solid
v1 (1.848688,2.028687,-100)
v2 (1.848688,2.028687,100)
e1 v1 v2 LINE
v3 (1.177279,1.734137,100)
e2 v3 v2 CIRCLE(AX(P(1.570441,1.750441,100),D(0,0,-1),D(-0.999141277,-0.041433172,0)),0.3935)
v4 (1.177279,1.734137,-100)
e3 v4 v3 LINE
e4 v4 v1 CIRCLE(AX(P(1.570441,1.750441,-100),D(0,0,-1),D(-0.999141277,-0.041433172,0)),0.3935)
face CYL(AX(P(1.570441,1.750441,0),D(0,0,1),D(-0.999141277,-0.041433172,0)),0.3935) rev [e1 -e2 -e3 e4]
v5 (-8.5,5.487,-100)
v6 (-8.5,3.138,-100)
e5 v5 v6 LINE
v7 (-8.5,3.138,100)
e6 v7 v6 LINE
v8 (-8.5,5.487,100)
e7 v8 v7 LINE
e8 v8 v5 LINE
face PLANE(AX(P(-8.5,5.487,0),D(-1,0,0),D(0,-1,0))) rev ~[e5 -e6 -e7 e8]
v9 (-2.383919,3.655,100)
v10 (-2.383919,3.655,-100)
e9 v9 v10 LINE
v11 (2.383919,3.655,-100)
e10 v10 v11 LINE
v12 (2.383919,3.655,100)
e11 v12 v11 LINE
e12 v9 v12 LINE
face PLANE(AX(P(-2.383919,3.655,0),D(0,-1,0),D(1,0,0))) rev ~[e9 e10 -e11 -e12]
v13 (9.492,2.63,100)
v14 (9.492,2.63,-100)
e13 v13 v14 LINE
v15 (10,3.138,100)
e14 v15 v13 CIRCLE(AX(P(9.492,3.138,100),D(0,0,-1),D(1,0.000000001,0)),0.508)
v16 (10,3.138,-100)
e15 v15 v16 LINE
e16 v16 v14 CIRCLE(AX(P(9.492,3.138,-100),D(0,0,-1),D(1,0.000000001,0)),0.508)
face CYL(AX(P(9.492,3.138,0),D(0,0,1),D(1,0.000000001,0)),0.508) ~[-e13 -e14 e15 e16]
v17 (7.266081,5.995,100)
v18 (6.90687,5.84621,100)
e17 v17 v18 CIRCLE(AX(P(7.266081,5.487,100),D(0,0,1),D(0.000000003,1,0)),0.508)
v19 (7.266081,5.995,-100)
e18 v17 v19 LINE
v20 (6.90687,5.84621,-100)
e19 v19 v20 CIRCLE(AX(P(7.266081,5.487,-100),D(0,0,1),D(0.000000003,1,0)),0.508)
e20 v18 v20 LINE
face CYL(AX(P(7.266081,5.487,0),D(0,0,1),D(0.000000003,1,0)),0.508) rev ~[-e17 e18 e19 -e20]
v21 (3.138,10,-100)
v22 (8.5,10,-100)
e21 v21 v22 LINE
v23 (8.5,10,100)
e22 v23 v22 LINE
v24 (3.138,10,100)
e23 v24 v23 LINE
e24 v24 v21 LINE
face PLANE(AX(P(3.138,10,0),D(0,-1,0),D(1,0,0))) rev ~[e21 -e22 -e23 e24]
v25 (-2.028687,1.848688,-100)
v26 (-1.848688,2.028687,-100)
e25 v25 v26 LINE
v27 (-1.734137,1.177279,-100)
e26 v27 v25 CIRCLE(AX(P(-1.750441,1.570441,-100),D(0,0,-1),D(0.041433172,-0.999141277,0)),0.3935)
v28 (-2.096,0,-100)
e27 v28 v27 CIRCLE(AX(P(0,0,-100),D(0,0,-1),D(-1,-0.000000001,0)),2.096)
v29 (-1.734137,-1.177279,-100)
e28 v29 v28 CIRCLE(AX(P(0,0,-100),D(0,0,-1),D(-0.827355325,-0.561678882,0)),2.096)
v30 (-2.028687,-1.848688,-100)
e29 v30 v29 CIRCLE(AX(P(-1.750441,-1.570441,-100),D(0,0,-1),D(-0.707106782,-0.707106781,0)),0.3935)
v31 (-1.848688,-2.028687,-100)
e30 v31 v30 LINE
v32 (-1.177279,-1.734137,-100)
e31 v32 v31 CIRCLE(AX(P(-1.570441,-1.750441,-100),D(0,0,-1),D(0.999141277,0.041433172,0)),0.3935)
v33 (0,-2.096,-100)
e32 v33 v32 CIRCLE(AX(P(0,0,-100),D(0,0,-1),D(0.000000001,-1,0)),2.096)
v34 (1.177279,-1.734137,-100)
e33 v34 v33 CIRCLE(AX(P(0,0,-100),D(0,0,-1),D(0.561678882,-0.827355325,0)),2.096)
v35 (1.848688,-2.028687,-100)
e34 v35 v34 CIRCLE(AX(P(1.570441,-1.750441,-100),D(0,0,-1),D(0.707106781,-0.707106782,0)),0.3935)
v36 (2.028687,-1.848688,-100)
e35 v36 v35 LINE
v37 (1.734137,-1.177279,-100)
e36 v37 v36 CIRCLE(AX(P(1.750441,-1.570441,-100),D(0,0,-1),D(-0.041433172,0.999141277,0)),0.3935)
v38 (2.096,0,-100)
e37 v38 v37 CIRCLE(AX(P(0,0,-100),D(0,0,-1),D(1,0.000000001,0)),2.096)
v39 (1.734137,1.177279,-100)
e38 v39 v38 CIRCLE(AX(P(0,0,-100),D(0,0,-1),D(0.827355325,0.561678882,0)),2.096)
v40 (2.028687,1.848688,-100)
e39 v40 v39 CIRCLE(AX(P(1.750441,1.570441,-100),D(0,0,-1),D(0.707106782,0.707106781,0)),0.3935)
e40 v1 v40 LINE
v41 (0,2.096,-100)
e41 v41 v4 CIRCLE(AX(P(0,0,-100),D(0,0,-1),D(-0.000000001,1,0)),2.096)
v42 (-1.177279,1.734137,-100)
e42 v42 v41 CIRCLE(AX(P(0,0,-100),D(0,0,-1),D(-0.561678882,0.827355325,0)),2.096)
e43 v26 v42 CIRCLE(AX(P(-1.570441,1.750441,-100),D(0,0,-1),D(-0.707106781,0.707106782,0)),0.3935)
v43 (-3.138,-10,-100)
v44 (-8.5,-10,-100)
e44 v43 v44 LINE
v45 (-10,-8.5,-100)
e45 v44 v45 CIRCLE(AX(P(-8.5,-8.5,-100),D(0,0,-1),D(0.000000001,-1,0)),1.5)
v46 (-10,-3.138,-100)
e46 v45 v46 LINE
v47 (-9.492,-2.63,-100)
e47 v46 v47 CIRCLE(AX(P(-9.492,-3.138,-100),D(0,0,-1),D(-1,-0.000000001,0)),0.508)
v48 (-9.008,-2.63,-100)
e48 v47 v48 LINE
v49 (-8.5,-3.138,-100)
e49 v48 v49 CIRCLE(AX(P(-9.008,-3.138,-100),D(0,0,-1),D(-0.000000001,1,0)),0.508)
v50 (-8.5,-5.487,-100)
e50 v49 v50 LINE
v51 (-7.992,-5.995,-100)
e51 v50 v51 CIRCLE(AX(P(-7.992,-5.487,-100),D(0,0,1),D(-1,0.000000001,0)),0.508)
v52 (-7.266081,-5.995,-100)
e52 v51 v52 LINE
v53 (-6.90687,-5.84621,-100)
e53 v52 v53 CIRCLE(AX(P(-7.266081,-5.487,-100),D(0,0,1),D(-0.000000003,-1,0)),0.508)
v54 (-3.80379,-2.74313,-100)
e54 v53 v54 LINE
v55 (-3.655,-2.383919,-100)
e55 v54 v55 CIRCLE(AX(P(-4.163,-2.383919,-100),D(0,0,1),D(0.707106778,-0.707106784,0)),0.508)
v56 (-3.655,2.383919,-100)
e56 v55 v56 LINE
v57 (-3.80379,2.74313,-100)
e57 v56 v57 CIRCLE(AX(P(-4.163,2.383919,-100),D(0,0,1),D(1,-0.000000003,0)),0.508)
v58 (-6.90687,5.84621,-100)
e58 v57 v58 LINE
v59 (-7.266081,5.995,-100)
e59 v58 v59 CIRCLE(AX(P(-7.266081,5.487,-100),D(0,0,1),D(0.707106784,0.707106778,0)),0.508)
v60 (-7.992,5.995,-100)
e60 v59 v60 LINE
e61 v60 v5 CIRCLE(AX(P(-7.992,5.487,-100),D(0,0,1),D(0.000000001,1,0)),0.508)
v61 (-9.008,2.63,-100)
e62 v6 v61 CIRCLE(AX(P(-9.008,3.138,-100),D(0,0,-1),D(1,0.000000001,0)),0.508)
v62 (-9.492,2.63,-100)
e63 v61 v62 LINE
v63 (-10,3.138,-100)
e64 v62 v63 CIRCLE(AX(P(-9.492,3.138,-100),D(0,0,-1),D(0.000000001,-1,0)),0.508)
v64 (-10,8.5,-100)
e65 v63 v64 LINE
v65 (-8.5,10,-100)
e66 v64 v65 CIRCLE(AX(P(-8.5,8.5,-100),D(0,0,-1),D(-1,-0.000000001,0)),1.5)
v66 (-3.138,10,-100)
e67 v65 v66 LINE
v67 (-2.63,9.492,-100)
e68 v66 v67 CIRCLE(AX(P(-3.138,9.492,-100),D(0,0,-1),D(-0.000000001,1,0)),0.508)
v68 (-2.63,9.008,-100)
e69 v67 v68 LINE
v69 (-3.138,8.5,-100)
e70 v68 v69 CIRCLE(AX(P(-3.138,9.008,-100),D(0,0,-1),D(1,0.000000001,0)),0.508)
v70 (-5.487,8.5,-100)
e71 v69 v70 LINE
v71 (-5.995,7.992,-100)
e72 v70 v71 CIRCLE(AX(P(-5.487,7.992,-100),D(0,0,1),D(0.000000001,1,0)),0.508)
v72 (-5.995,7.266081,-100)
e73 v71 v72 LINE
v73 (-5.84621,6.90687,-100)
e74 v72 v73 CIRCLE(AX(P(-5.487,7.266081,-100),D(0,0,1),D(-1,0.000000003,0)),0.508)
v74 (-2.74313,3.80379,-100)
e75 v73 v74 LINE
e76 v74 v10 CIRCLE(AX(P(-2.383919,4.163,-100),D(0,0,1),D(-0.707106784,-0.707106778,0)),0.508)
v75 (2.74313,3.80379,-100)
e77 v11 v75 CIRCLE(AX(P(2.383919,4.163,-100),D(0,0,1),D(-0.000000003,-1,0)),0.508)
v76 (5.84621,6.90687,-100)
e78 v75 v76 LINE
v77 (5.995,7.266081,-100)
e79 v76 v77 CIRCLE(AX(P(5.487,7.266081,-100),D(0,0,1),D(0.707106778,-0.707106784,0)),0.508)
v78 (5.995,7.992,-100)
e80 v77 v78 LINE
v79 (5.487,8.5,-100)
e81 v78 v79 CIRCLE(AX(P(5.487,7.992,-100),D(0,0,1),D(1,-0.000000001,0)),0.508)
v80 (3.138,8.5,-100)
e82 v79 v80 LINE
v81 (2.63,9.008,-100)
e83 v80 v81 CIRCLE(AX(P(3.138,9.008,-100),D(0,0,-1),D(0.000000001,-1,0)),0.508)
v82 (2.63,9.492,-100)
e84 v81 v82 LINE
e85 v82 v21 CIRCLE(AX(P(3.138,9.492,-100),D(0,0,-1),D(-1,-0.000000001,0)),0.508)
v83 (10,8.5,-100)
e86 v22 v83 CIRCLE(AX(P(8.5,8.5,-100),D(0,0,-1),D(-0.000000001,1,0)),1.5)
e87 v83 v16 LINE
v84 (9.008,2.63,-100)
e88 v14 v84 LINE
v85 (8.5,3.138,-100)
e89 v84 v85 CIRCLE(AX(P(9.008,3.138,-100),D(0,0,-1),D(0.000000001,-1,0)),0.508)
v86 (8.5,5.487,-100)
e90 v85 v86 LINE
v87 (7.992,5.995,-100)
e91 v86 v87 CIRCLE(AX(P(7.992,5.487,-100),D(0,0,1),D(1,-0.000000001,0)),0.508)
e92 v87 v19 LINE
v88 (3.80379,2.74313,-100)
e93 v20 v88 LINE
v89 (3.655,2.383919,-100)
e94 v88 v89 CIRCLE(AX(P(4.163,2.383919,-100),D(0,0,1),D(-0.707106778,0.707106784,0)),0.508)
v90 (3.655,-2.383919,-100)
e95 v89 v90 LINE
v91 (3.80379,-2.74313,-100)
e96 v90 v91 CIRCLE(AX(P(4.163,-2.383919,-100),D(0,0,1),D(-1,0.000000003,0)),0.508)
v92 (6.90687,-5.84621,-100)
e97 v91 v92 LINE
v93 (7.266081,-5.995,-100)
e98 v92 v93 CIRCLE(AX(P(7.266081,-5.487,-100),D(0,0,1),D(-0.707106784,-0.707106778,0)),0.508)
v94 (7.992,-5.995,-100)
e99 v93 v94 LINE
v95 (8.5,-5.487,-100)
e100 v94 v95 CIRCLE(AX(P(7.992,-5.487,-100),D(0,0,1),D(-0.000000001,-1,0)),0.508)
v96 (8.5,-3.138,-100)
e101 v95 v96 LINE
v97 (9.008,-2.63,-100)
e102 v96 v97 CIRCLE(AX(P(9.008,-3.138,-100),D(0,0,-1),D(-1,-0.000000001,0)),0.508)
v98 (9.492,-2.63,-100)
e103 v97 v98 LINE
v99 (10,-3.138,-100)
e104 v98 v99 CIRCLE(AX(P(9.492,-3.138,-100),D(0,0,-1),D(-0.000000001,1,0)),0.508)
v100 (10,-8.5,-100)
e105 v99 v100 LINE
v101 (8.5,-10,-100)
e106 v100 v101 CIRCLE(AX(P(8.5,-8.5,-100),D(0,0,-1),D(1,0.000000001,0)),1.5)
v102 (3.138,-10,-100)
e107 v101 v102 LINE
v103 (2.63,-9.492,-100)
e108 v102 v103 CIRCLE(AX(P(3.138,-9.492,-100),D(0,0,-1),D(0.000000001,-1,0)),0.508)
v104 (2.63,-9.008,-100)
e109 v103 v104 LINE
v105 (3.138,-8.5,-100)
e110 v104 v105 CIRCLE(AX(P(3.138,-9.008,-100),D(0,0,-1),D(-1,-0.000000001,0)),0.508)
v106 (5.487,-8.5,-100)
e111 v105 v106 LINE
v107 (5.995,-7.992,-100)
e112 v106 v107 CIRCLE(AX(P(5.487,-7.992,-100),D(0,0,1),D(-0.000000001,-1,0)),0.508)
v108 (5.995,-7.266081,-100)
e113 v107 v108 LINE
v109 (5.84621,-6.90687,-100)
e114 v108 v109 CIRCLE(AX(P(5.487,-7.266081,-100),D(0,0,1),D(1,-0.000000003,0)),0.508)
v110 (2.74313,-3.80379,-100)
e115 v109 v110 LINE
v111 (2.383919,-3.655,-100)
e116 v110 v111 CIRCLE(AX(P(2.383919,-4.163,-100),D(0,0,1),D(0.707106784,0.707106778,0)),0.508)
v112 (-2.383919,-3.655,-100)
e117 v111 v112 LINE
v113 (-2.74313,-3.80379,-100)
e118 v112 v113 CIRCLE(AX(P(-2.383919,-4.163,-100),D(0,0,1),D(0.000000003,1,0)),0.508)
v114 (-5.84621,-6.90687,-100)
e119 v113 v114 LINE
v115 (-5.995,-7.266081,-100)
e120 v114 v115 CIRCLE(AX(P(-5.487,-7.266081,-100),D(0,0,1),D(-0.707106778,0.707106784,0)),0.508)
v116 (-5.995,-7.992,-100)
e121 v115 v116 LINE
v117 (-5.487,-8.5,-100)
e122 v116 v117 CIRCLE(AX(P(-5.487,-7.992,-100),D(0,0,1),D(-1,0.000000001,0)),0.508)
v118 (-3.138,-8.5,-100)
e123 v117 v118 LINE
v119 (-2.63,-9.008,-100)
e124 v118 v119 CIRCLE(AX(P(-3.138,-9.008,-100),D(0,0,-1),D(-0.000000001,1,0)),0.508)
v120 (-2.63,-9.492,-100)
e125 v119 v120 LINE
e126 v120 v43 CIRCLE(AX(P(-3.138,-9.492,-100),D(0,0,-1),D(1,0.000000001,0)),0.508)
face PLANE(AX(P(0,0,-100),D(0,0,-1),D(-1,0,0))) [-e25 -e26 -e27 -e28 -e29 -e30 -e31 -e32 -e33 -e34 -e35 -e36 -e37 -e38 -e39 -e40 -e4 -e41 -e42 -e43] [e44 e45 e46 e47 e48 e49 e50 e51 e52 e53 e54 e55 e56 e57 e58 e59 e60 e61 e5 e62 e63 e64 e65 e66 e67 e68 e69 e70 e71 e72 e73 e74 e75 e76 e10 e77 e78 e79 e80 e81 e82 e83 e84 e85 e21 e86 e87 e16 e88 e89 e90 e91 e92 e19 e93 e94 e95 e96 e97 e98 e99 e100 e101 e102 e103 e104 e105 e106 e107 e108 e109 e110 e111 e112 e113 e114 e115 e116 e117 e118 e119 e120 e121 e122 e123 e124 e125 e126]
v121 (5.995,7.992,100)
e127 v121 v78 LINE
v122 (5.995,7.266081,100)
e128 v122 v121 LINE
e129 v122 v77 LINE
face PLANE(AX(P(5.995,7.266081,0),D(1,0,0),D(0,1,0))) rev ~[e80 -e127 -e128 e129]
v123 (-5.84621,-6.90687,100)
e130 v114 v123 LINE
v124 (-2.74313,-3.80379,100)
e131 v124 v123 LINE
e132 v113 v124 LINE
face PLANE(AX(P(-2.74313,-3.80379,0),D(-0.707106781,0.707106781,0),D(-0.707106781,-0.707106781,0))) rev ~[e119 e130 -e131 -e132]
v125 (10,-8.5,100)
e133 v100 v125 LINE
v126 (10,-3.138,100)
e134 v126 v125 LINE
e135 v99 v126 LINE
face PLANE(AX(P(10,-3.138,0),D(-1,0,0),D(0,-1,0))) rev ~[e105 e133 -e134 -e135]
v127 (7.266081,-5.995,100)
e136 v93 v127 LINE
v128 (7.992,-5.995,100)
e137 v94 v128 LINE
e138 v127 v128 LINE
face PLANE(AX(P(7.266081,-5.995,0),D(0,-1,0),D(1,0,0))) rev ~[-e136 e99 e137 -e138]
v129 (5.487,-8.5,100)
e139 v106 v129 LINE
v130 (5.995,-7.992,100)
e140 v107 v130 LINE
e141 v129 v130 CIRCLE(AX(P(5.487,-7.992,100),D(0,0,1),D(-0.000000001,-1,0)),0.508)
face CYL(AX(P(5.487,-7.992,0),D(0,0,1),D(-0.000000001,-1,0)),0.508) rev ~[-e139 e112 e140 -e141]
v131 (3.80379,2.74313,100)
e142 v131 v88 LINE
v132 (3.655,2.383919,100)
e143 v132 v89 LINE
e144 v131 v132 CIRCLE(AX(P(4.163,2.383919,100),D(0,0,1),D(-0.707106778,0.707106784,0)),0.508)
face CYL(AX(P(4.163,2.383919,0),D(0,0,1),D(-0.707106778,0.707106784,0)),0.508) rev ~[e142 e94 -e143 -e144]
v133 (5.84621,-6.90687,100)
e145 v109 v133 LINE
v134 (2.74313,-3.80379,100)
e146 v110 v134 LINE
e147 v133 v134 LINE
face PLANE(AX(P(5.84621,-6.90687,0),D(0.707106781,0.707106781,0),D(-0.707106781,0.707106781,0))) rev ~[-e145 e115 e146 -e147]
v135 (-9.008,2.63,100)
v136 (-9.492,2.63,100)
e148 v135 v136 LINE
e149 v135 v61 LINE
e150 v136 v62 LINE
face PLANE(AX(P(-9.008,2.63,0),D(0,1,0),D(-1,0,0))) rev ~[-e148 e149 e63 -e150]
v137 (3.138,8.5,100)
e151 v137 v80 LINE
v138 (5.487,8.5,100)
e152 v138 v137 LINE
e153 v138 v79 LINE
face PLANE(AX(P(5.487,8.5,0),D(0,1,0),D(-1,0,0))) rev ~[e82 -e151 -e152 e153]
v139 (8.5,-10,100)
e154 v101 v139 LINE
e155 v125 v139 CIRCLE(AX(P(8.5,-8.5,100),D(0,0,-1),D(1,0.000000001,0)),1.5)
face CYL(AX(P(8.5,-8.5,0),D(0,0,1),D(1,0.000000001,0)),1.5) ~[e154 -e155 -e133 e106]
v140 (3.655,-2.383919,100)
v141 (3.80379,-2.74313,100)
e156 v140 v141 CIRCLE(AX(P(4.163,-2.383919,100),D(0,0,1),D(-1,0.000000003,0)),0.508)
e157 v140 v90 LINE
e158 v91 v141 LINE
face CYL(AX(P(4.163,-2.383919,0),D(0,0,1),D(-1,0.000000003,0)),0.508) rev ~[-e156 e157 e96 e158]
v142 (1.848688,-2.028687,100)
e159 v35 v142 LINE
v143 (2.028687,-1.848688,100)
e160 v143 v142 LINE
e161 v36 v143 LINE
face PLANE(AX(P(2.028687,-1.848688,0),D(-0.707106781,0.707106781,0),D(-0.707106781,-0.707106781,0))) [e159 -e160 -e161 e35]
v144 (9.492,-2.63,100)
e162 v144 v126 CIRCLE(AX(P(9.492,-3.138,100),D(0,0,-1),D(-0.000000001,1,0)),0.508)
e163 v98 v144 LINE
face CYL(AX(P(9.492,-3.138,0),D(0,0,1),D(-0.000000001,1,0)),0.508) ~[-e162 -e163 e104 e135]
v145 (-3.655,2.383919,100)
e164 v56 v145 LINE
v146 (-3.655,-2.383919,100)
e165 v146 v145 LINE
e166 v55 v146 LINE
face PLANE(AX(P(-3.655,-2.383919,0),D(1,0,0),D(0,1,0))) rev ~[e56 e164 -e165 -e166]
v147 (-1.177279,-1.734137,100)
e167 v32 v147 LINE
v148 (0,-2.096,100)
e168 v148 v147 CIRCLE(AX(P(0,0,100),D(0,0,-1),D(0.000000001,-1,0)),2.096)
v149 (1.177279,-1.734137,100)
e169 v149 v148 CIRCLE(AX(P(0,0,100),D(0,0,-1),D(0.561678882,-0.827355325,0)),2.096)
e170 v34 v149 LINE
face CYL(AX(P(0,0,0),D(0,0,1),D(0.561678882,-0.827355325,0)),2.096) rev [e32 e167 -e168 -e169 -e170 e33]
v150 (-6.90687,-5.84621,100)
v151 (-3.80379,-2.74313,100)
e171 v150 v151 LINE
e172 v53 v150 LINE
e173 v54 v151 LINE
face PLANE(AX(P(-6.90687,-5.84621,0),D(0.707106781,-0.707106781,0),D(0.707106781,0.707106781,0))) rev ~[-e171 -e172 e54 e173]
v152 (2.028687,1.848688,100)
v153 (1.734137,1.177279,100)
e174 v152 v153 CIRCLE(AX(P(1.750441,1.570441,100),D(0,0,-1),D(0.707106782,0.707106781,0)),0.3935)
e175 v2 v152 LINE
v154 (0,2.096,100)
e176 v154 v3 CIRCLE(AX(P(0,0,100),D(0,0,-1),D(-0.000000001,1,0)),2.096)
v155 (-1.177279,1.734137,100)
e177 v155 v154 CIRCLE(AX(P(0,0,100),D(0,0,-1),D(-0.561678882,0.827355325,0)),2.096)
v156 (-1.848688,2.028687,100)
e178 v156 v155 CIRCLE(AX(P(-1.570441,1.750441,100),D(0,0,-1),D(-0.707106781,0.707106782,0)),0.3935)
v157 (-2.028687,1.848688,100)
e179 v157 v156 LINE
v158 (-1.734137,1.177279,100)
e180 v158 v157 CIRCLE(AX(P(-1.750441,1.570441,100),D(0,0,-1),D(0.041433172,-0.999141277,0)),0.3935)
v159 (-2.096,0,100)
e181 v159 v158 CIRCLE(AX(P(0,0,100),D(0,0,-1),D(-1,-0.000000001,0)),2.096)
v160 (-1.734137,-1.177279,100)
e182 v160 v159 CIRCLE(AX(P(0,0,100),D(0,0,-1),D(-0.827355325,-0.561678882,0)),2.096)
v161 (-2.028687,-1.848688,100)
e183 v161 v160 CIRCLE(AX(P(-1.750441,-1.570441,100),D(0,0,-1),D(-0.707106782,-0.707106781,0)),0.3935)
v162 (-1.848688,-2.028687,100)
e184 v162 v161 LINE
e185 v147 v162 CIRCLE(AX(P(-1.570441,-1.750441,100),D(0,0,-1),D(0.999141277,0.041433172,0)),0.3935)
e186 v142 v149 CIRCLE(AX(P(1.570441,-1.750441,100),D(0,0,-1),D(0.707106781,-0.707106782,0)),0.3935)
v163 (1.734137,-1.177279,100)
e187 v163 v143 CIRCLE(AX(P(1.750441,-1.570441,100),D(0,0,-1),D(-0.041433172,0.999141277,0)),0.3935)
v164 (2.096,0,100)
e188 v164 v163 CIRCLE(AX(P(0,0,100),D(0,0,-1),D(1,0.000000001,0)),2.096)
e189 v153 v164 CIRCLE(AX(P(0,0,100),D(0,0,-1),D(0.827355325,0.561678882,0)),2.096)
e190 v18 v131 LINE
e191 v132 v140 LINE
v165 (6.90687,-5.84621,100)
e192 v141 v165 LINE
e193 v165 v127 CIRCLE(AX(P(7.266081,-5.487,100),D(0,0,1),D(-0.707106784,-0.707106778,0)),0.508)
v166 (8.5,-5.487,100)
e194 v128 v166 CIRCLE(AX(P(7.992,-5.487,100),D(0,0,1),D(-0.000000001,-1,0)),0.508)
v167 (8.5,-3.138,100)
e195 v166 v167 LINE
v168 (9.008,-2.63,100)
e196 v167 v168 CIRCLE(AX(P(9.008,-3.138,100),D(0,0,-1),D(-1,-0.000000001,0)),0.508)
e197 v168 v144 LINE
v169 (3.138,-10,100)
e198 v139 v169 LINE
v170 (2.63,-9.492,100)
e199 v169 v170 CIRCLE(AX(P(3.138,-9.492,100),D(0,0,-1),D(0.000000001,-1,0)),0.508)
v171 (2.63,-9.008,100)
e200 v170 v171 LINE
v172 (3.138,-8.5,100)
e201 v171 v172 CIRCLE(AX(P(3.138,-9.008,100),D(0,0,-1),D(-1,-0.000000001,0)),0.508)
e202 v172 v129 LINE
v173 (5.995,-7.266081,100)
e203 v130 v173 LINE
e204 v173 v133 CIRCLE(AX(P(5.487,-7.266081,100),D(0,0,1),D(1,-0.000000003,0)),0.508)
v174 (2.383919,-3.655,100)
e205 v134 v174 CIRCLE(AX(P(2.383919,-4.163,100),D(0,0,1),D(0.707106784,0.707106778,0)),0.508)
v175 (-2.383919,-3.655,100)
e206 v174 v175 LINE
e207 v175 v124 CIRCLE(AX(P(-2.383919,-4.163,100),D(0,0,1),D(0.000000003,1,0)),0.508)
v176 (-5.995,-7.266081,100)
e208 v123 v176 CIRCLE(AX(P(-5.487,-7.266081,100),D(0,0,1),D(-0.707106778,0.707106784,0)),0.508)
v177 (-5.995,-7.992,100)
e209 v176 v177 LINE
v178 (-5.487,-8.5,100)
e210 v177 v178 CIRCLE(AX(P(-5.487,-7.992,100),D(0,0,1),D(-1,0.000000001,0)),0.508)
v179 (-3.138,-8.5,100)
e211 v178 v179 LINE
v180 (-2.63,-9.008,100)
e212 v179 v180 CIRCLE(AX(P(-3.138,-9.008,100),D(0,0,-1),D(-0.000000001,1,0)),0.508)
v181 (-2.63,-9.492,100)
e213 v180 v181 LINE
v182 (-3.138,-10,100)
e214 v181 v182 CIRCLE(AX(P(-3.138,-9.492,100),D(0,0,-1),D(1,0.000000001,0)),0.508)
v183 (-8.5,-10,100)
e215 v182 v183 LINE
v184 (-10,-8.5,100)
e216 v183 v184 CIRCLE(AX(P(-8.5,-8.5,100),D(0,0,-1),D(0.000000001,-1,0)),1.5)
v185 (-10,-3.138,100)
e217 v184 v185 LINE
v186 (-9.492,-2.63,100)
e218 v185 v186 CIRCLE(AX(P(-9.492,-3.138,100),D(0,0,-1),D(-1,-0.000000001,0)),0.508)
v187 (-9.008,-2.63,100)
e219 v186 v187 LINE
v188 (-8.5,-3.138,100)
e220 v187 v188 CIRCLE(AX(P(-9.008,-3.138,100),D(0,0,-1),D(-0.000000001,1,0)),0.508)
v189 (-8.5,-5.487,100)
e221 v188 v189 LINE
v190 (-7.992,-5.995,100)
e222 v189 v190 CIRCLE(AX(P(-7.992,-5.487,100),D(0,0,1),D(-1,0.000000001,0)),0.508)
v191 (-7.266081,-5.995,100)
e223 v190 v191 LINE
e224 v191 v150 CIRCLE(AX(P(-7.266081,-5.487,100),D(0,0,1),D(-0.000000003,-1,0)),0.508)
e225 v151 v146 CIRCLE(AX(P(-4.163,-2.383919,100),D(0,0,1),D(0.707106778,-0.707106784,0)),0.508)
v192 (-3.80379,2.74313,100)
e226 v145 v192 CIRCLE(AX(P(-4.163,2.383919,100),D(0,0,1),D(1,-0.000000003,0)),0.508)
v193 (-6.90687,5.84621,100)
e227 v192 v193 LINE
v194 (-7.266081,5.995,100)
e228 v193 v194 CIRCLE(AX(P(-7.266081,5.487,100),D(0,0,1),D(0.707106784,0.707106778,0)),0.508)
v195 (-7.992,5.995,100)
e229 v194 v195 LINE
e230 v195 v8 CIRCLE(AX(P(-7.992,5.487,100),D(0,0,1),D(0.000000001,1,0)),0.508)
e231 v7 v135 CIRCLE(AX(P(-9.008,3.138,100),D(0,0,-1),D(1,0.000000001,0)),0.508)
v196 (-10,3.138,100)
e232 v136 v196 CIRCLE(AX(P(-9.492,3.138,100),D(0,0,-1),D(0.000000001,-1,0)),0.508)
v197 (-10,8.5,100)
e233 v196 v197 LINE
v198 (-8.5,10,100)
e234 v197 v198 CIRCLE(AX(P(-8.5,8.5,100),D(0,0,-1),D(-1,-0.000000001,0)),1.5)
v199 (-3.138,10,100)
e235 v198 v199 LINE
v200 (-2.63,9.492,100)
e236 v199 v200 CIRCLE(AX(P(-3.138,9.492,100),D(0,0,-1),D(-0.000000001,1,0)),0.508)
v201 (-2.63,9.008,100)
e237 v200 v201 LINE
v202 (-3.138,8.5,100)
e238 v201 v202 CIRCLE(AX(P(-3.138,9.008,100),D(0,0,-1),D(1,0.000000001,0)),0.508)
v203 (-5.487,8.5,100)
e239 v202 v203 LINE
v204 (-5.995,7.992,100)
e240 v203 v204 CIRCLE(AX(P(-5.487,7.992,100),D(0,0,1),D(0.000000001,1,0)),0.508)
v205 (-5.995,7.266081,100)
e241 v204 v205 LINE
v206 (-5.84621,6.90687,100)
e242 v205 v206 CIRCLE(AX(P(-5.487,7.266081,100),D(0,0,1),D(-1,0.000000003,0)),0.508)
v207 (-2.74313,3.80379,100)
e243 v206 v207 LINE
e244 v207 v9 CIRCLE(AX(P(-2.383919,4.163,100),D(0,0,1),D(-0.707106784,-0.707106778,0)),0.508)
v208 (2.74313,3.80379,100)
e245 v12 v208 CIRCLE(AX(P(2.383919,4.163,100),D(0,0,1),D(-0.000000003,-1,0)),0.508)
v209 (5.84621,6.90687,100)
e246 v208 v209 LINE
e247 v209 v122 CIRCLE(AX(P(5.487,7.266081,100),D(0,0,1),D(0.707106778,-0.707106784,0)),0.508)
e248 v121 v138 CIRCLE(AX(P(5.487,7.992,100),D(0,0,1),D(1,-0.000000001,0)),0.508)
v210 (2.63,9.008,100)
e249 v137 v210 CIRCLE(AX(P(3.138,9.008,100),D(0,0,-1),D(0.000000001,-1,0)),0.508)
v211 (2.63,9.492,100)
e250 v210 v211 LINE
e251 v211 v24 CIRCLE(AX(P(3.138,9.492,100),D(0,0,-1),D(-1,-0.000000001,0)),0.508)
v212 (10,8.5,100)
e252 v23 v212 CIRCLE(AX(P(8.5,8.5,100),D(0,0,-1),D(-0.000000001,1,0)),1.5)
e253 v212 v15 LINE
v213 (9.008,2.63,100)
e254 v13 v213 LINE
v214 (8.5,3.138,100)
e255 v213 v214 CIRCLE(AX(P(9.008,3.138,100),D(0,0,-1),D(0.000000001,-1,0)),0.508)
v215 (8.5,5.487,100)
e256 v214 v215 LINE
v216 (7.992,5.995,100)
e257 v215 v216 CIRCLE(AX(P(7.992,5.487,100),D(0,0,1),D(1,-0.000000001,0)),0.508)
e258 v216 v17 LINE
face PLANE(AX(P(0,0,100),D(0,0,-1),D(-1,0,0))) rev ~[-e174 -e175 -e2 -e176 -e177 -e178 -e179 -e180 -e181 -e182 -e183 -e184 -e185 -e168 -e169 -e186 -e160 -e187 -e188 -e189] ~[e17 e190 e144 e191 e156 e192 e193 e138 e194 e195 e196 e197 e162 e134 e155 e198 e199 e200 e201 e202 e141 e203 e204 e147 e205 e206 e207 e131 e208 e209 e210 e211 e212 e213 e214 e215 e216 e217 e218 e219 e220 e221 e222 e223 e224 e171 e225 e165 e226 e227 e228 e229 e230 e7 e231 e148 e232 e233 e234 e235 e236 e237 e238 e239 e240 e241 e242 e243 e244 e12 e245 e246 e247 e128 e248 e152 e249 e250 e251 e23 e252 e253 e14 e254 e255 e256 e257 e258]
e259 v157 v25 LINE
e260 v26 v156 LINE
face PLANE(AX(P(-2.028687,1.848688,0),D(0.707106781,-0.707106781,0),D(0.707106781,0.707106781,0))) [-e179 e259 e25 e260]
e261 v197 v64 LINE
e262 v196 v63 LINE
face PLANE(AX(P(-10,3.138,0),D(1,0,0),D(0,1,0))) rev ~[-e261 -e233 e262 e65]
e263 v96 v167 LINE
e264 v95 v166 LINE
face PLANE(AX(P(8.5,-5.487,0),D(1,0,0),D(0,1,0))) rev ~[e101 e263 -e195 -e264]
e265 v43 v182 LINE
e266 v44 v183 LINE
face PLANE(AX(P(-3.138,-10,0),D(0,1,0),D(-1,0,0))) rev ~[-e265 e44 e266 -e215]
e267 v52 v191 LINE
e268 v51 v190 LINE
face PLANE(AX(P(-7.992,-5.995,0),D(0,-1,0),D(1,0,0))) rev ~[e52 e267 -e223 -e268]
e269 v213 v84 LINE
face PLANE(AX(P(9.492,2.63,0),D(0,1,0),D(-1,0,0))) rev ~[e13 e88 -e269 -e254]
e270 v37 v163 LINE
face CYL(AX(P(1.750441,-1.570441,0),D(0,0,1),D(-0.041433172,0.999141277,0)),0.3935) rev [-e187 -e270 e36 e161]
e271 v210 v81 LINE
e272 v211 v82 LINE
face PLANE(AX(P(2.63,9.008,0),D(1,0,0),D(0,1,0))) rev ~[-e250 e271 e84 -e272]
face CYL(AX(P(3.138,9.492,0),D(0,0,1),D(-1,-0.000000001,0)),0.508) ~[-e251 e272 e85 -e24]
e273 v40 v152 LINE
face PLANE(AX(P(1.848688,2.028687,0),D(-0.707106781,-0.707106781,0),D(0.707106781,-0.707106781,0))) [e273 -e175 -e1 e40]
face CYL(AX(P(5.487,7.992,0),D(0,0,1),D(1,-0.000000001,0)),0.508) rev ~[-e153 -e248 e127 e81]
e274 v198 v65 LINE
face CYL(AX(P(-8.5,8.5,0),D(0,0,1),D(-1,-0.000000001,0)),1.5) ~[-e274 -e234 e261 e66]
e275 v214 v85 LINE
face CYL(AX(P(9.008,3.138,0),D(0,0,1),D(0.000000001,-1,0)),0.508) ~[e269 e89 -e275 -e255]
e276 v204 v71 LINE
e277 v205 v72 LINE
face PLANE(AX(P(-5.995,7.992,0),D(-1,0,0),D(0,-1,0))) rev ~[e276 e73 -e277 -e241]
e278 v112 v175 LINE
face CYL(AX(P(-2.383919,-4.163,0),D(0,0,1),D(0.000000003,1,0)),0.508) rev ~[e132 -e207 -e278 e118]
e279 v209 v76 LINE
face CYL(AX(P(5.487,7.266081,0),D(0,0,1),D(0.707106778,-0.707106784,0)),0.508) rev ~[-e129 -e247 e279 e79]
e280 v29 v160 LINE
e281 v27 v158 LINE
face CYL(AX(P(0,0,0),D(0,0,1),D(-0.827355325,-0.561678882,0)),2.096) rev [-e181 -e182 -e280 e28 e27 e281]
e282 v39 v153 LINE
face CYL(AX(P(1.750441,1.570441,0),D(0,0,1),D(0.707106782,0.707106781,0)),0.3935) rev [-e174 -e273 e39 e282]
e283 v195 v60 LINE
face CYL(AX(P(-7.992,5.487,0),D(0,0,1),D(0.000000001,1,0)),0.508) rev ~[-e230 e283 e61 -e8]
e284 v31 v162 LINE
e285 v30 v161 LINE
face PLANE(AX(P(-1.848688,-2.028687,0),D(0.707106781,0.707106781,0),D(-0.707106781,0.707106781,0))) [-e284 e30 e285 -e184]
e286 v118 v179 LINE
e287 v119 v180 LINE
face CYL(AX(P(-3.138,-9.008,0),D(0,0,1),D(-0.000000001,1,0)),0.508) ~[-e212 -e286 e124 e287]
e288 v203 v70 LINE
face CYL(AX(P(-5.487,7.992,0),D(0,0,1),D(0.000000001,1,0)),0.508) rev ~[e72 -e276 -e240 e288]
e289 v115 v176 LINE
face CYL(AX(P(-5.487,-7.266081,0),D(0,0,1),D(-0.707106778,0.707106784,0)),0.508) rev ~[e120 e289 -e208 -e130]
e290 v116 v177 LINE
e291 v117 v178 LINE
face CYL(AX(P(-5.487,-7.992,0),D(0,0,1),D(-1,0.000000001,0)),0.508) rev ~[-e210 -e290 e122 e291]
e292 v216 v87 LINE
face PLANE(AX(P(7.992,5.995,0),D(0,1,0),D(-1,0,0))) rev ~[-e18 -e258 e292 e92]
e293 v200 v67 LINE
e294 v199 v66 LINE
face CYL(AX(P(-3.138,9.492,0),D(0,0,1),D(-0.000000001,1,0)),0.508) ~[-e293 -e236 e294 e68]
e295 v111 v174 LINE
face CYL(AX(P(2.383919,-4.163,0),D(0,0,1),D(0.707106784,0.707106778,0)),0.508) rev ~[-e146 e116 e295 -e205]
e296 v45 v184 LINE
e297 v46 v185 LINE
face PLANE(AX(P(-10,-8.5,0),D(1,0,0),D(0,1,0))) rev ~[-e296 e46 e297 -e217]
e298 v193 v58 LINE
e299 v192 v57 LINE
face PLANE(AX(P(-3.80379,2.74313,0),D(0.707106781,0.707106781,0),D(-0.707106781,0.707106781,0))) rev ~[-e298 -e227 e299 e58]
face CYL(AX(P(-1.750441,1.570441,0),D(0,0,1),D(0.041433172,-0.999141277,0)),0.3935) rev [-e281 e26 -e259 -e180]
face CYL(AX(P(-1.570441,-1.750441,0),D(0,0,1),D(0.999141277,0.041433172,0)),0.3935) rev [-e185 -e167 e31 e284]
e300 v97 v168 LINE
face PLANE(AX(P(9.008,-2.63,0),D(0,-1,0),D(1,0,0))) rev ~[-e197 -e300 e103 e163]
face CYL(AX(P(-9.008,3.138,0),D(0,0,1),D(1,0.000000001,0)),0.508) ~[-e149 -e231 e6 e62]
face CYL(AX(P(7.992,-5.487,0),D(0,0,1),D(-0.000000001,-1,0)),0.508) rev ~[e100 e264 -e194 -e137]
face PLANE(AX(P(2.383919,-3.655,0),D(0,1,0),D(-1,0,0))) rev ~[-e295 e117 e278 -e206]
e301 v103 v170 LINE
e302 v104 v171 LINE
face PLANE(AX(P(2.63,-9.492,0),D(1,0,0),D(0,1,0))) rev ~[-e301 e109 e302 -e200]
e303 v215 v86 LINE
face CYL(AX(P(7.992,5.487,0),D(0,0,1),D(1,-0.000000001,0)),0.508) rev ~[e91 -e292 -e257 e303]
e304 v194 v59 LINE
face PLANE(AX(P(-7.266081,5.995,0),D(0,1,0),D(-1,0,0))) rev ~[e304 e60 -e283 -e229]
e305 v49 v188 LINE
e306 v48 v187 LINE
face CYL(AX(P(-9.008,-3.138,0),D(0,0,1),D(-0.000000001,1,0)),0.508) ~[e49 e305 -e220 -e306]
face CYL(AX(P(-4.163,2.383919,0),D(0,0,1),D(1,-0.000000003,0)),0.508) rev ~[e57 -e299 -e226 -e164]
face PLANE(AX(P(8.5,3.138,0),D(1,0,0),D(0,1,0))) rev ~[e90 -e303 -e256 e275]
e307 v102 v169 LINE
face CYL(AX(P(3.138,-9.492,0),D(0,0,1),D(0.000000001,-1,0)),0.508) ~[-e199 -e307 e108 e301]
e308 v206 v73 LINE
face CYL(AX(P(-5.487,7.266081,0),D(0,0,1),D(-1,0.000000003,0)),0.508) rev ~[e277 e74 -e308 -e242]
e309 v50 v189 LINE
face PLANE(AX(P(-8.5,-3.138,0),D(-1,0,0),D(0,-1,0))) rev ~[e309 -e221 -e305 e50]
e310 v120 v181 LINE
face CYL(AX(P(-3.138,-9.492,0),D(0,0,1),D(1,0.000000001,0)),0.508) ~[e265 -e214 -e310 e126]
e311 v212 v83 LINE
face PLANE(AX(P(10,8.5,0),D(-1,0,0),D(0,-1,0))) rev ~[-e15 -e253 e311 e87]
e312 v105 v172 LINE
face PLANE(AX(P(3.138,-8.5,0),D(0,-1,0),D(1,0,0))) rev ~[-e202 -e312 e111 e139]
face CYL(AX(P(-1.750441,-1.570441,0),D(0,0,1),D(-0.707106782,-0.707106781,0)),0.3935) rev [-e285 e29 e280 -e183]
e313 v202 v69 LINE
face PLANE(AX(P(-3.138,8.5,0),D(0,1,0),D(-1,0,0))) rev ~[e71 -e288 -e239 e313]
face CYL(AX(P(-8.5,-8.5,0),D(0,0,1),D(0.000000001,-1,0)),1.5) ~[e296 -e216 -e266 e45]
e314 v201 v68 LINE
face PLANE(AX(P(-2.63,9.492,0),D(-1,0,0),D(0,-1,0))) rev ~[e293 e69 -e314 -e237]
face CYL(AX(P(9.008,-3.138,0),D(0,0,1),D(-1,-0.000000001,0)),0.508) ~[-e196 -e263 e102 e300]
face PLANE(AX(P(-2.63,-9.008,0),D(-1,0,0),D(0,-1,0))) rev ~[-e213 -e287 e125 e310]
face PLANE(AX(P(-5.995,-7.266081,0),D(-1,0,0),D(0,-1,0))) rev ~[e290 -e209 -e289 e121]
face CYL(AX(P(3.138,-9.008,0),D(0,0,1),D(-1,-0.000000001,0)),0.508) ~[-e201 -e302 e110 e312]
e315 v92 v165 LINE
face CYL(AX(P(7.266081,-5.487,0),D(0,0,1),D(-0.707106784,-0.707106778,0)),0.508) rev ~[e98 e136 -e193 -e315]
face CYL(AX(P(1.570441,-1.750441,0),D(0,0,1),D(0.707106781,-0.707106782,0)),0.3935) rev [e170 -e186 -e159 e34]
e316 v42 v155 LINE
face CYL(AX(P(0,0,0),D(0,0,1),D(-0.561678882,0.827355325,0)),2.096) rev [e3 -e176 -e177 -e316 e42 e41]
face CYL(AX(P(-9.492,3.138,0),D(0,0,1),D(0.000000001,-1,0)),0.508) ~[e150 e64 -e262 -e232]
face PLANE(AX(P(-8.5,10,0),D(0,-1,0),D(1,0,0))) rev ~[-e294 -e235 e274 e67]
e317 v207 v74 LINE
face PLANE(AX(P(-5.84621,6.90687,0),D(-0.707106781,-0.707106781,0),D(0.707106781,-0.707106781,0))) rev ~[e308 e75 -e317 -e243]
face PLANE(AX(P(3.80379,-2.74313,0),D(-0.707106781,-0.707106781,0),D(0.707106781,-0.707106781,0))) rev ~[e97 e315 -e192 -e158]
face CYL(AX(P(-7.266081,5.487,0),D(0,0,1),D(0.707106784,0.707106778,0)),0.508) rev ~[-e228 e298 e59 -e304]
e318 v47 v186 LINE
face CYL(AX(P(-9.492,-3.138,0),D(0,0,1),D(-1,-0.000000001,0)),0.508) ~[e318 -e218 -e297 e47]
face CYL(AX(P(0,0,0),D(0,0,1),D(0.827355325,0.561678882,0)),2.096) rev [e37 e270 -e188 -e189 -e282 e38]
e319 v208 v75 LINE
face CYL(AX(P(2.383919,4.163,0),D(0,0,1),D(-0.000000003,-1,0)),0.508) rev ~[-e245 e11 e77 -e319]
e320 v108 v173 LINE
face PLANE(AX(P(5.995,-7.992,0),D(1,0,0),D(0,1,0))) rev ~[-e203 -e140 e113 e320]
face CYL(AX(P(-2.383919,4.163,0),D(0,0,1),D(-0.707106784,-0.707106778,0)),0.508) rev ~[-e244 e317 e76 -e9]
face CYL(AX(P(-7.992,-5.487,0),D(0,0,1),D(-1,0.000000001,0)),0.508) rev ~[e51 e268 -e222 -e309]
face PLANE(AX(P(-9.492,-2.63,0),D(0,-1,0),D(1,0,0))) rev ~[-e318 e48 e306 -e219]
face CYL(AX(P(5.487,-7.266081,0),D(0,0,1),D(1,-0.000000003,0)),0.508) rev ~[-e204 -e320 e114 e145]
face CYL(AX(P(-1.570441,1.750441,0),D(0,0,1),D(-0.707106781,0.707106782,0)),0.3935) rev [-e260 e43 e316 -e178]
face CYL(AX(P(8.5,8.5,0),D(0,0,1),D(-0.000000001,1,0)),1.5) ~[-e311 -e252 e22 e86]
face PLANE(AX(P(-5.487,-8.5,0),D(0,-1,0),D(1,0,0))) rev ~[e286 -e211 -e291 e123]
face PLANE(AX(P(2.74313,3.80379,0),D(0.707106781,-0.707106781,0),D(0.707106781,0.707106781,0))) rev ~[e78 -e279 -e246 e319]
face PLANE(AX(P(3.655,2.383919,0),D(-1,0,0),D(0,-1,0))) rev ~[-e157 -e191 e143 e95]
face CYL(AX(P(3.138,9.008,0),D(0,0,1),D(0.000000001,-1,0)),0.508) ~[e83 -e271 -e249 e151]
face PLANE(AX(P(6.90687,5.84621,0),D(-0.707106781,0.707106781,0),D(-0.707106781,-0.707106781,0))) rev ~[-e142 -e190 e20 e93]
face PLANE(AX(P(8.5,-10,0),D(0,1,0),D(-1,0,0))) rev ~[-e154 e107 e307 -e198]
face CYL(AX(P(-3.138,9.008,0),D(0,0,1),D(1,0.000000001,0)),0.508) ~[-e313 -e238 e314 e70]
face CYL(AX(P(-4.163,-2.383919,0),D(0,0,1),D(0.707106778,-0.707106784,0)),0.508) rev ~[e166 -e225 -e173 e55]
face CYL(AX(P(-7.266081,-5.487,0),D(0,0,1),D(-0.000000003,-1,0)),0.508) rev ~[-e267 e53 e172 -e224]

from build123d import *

# Parameters (mm, degrees)
F_2020_PROFILE_DEPTH = 100


with BuildPart() as part:
    # Sketch1 → 2020 Profile (new, symmetric)
    with BuildSketch(Plane.XY):
        with BuildLine():
            Line((-3.655, 0), (-3.655, 2.383919339))
            ThreePointArc((-3.655, 2.383919339), (-3.693669197, 2.578322522), (-3.803789755, 2.743129583))
            Line((-3.803789755, 2.743129583), (-6.906870417, 5.846210245))
            ThreePointArc((-6.906870417, 5.846210245), (-7.071677478, 5.956330803), (-7.266080661, 5.995))
            Line((-7.266080661, 5.995), (-7.992, 5.995))
            ThreePointArc((-7.992, 5.995), (-8.351210245, 5.846210245), (-8.5, 5.487))
            Line((-8.5, 5.487), (-8.5, 3.138))
            ThreePointArc((-8.5, 3.138), (-8.648789755, 2.778789755), (-9.008, 2.63))
            Line((-9.008, 2.63), (-9.492, 2.63))
            ThreePointArc((-9.492, 2.63), (-9.851210245, 2.778789755), (-10, 3.138))
            Line((-10, 3.138), (-10, 8.5))
            ThreePointArc((-10, 8.5), (-9.560660172, 9.560660172), (-8.5, 10))
            Line((-8.5, 10), (-3.138, 10))
            ThreePointArc((-3.138, 10), (-2.778789755, 9.851210245), (-2.63, 9.492))
            Line((-2.63, 9.492), (-2.63, 9.008))
            ThreePointArc((-2.63, 9.008), (-2.778789755, 8.648789755), (-3.138, 8.5))
            Line((-3.138, 8.5), (-5.487, 8.5))
            ThreePointArc((-5.487, 8.5), (-5.846210245, 8.351210245), (-5.995, 7.992))
            Line((-5.995, 7.992), (-5.995, 7.266080661))
            ThreePointArc((-5.995, 7.266080661), (-5.956330803, 7.071677478), (-5.846210245, 6.906870417))
            Line((-5.846210245, 6.906870417), (-2.743129583, 3.803789755))
            ThreePointArc((-2.743129583, 3.803789755), (-2.578322522, 3.693669197), (-2.383919339, 3.655))
            Line((-2.383919339, 3.655), (0, 3.655))
            Line((0, 3.655), (2.383919339, 3.655))
            ThreePointArc((2.383919339, 3.655), (2.578322522, 3.693669197), (2.743129583, 3.803789755))
            Line((2.743129583, 3.803789755), (5.846210245, 6.906870417))
            ThreePointArc((5.846210245, 6.906870417), (5.956330803, 7.071677478), (5.995, 7.266080661))
            Line((5.995, 7.266080661), (5.995, 7.992))
            ThreePointArc((5.995, 7.992), (5.846210245, 8.351210245), (5.487, 8.5))
            Line((5.487, 8.5), (3.138, 8.5))
            ThreePointArc((3.138, 8.5), (2.778789755, 8.648789755), (2.63, 9.008))
            Line((2.63, 9.008), (2.63, 9.492))
            ThreePointArc((2.63, 9.492), (2.778789755, 9.851210245), (3.138, 10))
            Line((3.138, 10), (8.5, 10))
            ThreePointArc((8.5, 10), (9.560660172, 9.560660172), (10, 8.5))
            Line((10, 8.5), (10, 3.138))
            ThreePointArc((10, 3.138), (9.851210245, 2.778789755), (9.492, 2.63))
            Line((9.492, 2.63), (9.008, 2.63))
            ThreePointArc((9.008, 2.63), (8.648789755, 2.778789755), (8.5, 3.138))
            Line((8.5, 3.138), (8.5, 5.487))
            ThreePointArc((8.5, 5.487), (8.351210245, 5.846210245), (7.992, 5.995))
            Line((7.992, 5.995), (7.266080661, 5.995))
            ThreePointArc((7.266080661, 5.995), (7.071677478, 5.956330803), (6.906870417, 5.846210245))
            Line((6.906870417, 5.846210245), (3.803789755, 2.743129583))
            ThreePointArc((3.803789755, 2.743129583), (3.693669197, 2.578322522), (3.655, 2.383919339))
            Line((3.655, 2.383919339), (3.655, 0))
            Line((3.655, 0), (3.655, -2.383919339))
            ThreePointArc((3.655, -2.383919339), (3.693669197, -2.578322522), (3.803789755, -2.743129583))
            Line((3.803789755, -2.743129583), (6.906870417, -5.846210245))
            ThreePointArc((6.906870417, -5.846210245), (7.071677478, -5.956330803), (7.266080661, -5.995))
            Line((7.266080661, -5.995), (7.992, -5.995))
            ThreePointArc((7.992, -5.995), (8.351210245, -5.846210245), (8.5, -5.487))
            Line((8.5, -5.487), (8.5, -3.138))
            ThreePointArc((8.5, -3.138), (8.648789755, -2.778789755), (9.008, -2.63))
            Line((9.008, -2.63), (9.492, -2.63))
            ThreePointArc((9.492, -2.63), (9.851210245, -2.778789755), (10, -3.138))
            Line((10, -3.138), (10, -8.5))
            ThreePointArc((10, -8.5), (9.560660172, -9.560660172), (8.5, -10))
            Line((8.5, -10), (3.138, -10))
            ThreePointArc((3.138, -10), (2.778789755, -9.851210245), (2.63, -9.492))
            Line((2.63, -9.492), (2.63, -9.008))
            ThreePointArc((2.63, -9.008), (2.778789755, -8.648789755), (3.138, -8.5))
            Line((3.138, -8.5), (5.487, -8.5))
            ThreePointArc((5.487, -8.5), (5.846210245, -8.351210245), (5.995, -7.992))
            Line((5.995, -7.992), (5.995, -7.266080661))
            ThreePointArc((5.995, -7.266080661), (5.956330803, -7.071677478), (5.846210245, -6.906870417))
            Line((5.846210245, -6.906870417), (2.743129583, -3.803789755))
            ThreePointArc((2.743129583, -3.803789755), (2.578322522, -3.693669197), (2.383919339, -3.655))
            Line((2.383919339, -3.655), (0, -3.655))
            Line((0, -3.655), (-2.383919339, -3.655))
            ThreePointArc((-2.383919339, -3.655), (-2.578322522, -3.693669197), (-2.743129583, -3.803789755))
            Line((-2.743129583, -3.803789755), (-5.846210245, -6.906870417))
            ThreePointArc((-5.846210245, -6.906870417), (-5.956330803, -7.071677478), (-5.995, -7.266080661))
            Line((-5.995, -7.266080661), (-5.995, -7.992))
            ThreePointArc((-5.995, -7.992), (-5.846210245, -8.351210245), (-5.487, -8.5))
            Line((-5.487, -8.5), (-3.138, -8.5))
            ThreePointArc((-3.138, -8.5), (-2.778789755, -8.648789755), (-2.63, -9.008))
            Line((-2.63, -9.008), (-2.63, -9.492))
            ThreePointArc((-2.63, -9.492), (-2.778789755, -9.851210245), (-3.138, -10))
            Line((-3.138, -10), (-8.5, -10))
            ThreePointArc((-8.5, -10), (-9.560660172, -9.560660172), (-10, -8.5))
            Line((-10, -8.5), (-10, -3.138))
            ThreePointArc((-10, -3.138), (-9.851210245, -2.778789755), (-9.492, -2.63))
            Line((-9.492, -2.63), (-9.008, -2.63))
            ThreePointArc((-9.008, -2.63), (-8.648789755, -2.778789755), (-8.5, -3.138))
            Line((-8.5, -3.138), (-8.5, -5.487))
            ThreePointArc((-8.5, -5.487), (-8.351210245, -5.846210245), (-7.992, -5.995))
            Line((-7.992, -5.995), (-7.266080661, -5.995))
            ThreePointArc((-7.266080661, -5.995), (-7.071677478, -5.956330803), (-6.906870417, -5.846210245))
            Line((-6.906870417, -5.846210245), (-3.803789755, -2.743129583))
            ThreePointArc((-3.803789755, -2.743129583), (-3.693669197, -2.578322522), (-3.655, -2.383919339))
            Line((-3.655, -2.383919339), (-3.655, 0))
        make_face()
        with BuildLine():
            Line((-2.028687234, 1.848687546), (-1.848687546, 2.028687234))
            ThreePointArc((-1.848687546, 2.028687234), (-1.412354366, 2.11078896), (-1.177278935, 1.734136762))
            ThreePointArc((-1.177278935, 1.734136762), (-0.615818702, 2.003492782), (0, 2.096))
            ThreePointArc((0, 2.096), (0.615818702, 2.003492782), (1.177278935, 1.734136762))
            ThreePointArc((1.177278935, 1.734136762), (1.412354366, 2.11078896), (1.848687546, 2.028687234))
            Line((1.848687546, 2.028687234), (2.028687234, 1.848687546))
            ThreePointArc((2.028687234, 1.848687546), (2.11078896, 1.412354366), (1.734136762, 1.177278935))
            ThreePointArc((1.734136762, 1.177278935), (2.003492782, 0.615818702), (2.096, 0))
            ThreePointArc((2.096, 0), (2.003492782, -0.615818702), (1.734136762, -1.177278935))
            ThreePointArc((1.734136762, -1.177278935), (2.11078896, -1.412354366), (2.028687234, -1.848687546))
            Line((2.028687234, -1.848687546), (1.848687546, -2.028687234))
            ThreePointArc((1.848687546, -2.028687234), (1.412354366, -2.11078896), (1.177278935, -1.734136762))
            ThreePointArc((1.177278935, -1.734136762), (0.615818702, -2.003492782), (0, -2.096))
            ThreePointArc((0, -2.096), (-0.615818702, -2.003492782), (-1.177278935, -1.734136762))
            ThreePointArc((-1.177278935, -1.734136762), (-1.412354366, -2.11078896), (-1.848687546, -2.028687234))
            Line((-1.848687546, -2.028687234), (-2.028687234, -1.848687546))
            ThreePointArc((-2.028687234, -1.848687546), (-2.11078896, -1.412354366), (-1.734136762, -1.177278935))
            ThreePointArc((-1.734136762, -1.177278935), (-2.003492782, -0.615818702), (-2.096, 0))
            ThreePointArc((-2.096, 0), (-2.003492782, 0.615818702), (-1.734136762, 1.177278935))
            ThreePointArc((-1.734136762, 1.177278935), (-2.11078896, 1.412354366), (-2.028687234, 1.848687546))
        make_face(mode=Mode.SUBTRACT)
    extrude(amount=F_2020_PROFILE_DEPTH, both=True)


solid = part.part
